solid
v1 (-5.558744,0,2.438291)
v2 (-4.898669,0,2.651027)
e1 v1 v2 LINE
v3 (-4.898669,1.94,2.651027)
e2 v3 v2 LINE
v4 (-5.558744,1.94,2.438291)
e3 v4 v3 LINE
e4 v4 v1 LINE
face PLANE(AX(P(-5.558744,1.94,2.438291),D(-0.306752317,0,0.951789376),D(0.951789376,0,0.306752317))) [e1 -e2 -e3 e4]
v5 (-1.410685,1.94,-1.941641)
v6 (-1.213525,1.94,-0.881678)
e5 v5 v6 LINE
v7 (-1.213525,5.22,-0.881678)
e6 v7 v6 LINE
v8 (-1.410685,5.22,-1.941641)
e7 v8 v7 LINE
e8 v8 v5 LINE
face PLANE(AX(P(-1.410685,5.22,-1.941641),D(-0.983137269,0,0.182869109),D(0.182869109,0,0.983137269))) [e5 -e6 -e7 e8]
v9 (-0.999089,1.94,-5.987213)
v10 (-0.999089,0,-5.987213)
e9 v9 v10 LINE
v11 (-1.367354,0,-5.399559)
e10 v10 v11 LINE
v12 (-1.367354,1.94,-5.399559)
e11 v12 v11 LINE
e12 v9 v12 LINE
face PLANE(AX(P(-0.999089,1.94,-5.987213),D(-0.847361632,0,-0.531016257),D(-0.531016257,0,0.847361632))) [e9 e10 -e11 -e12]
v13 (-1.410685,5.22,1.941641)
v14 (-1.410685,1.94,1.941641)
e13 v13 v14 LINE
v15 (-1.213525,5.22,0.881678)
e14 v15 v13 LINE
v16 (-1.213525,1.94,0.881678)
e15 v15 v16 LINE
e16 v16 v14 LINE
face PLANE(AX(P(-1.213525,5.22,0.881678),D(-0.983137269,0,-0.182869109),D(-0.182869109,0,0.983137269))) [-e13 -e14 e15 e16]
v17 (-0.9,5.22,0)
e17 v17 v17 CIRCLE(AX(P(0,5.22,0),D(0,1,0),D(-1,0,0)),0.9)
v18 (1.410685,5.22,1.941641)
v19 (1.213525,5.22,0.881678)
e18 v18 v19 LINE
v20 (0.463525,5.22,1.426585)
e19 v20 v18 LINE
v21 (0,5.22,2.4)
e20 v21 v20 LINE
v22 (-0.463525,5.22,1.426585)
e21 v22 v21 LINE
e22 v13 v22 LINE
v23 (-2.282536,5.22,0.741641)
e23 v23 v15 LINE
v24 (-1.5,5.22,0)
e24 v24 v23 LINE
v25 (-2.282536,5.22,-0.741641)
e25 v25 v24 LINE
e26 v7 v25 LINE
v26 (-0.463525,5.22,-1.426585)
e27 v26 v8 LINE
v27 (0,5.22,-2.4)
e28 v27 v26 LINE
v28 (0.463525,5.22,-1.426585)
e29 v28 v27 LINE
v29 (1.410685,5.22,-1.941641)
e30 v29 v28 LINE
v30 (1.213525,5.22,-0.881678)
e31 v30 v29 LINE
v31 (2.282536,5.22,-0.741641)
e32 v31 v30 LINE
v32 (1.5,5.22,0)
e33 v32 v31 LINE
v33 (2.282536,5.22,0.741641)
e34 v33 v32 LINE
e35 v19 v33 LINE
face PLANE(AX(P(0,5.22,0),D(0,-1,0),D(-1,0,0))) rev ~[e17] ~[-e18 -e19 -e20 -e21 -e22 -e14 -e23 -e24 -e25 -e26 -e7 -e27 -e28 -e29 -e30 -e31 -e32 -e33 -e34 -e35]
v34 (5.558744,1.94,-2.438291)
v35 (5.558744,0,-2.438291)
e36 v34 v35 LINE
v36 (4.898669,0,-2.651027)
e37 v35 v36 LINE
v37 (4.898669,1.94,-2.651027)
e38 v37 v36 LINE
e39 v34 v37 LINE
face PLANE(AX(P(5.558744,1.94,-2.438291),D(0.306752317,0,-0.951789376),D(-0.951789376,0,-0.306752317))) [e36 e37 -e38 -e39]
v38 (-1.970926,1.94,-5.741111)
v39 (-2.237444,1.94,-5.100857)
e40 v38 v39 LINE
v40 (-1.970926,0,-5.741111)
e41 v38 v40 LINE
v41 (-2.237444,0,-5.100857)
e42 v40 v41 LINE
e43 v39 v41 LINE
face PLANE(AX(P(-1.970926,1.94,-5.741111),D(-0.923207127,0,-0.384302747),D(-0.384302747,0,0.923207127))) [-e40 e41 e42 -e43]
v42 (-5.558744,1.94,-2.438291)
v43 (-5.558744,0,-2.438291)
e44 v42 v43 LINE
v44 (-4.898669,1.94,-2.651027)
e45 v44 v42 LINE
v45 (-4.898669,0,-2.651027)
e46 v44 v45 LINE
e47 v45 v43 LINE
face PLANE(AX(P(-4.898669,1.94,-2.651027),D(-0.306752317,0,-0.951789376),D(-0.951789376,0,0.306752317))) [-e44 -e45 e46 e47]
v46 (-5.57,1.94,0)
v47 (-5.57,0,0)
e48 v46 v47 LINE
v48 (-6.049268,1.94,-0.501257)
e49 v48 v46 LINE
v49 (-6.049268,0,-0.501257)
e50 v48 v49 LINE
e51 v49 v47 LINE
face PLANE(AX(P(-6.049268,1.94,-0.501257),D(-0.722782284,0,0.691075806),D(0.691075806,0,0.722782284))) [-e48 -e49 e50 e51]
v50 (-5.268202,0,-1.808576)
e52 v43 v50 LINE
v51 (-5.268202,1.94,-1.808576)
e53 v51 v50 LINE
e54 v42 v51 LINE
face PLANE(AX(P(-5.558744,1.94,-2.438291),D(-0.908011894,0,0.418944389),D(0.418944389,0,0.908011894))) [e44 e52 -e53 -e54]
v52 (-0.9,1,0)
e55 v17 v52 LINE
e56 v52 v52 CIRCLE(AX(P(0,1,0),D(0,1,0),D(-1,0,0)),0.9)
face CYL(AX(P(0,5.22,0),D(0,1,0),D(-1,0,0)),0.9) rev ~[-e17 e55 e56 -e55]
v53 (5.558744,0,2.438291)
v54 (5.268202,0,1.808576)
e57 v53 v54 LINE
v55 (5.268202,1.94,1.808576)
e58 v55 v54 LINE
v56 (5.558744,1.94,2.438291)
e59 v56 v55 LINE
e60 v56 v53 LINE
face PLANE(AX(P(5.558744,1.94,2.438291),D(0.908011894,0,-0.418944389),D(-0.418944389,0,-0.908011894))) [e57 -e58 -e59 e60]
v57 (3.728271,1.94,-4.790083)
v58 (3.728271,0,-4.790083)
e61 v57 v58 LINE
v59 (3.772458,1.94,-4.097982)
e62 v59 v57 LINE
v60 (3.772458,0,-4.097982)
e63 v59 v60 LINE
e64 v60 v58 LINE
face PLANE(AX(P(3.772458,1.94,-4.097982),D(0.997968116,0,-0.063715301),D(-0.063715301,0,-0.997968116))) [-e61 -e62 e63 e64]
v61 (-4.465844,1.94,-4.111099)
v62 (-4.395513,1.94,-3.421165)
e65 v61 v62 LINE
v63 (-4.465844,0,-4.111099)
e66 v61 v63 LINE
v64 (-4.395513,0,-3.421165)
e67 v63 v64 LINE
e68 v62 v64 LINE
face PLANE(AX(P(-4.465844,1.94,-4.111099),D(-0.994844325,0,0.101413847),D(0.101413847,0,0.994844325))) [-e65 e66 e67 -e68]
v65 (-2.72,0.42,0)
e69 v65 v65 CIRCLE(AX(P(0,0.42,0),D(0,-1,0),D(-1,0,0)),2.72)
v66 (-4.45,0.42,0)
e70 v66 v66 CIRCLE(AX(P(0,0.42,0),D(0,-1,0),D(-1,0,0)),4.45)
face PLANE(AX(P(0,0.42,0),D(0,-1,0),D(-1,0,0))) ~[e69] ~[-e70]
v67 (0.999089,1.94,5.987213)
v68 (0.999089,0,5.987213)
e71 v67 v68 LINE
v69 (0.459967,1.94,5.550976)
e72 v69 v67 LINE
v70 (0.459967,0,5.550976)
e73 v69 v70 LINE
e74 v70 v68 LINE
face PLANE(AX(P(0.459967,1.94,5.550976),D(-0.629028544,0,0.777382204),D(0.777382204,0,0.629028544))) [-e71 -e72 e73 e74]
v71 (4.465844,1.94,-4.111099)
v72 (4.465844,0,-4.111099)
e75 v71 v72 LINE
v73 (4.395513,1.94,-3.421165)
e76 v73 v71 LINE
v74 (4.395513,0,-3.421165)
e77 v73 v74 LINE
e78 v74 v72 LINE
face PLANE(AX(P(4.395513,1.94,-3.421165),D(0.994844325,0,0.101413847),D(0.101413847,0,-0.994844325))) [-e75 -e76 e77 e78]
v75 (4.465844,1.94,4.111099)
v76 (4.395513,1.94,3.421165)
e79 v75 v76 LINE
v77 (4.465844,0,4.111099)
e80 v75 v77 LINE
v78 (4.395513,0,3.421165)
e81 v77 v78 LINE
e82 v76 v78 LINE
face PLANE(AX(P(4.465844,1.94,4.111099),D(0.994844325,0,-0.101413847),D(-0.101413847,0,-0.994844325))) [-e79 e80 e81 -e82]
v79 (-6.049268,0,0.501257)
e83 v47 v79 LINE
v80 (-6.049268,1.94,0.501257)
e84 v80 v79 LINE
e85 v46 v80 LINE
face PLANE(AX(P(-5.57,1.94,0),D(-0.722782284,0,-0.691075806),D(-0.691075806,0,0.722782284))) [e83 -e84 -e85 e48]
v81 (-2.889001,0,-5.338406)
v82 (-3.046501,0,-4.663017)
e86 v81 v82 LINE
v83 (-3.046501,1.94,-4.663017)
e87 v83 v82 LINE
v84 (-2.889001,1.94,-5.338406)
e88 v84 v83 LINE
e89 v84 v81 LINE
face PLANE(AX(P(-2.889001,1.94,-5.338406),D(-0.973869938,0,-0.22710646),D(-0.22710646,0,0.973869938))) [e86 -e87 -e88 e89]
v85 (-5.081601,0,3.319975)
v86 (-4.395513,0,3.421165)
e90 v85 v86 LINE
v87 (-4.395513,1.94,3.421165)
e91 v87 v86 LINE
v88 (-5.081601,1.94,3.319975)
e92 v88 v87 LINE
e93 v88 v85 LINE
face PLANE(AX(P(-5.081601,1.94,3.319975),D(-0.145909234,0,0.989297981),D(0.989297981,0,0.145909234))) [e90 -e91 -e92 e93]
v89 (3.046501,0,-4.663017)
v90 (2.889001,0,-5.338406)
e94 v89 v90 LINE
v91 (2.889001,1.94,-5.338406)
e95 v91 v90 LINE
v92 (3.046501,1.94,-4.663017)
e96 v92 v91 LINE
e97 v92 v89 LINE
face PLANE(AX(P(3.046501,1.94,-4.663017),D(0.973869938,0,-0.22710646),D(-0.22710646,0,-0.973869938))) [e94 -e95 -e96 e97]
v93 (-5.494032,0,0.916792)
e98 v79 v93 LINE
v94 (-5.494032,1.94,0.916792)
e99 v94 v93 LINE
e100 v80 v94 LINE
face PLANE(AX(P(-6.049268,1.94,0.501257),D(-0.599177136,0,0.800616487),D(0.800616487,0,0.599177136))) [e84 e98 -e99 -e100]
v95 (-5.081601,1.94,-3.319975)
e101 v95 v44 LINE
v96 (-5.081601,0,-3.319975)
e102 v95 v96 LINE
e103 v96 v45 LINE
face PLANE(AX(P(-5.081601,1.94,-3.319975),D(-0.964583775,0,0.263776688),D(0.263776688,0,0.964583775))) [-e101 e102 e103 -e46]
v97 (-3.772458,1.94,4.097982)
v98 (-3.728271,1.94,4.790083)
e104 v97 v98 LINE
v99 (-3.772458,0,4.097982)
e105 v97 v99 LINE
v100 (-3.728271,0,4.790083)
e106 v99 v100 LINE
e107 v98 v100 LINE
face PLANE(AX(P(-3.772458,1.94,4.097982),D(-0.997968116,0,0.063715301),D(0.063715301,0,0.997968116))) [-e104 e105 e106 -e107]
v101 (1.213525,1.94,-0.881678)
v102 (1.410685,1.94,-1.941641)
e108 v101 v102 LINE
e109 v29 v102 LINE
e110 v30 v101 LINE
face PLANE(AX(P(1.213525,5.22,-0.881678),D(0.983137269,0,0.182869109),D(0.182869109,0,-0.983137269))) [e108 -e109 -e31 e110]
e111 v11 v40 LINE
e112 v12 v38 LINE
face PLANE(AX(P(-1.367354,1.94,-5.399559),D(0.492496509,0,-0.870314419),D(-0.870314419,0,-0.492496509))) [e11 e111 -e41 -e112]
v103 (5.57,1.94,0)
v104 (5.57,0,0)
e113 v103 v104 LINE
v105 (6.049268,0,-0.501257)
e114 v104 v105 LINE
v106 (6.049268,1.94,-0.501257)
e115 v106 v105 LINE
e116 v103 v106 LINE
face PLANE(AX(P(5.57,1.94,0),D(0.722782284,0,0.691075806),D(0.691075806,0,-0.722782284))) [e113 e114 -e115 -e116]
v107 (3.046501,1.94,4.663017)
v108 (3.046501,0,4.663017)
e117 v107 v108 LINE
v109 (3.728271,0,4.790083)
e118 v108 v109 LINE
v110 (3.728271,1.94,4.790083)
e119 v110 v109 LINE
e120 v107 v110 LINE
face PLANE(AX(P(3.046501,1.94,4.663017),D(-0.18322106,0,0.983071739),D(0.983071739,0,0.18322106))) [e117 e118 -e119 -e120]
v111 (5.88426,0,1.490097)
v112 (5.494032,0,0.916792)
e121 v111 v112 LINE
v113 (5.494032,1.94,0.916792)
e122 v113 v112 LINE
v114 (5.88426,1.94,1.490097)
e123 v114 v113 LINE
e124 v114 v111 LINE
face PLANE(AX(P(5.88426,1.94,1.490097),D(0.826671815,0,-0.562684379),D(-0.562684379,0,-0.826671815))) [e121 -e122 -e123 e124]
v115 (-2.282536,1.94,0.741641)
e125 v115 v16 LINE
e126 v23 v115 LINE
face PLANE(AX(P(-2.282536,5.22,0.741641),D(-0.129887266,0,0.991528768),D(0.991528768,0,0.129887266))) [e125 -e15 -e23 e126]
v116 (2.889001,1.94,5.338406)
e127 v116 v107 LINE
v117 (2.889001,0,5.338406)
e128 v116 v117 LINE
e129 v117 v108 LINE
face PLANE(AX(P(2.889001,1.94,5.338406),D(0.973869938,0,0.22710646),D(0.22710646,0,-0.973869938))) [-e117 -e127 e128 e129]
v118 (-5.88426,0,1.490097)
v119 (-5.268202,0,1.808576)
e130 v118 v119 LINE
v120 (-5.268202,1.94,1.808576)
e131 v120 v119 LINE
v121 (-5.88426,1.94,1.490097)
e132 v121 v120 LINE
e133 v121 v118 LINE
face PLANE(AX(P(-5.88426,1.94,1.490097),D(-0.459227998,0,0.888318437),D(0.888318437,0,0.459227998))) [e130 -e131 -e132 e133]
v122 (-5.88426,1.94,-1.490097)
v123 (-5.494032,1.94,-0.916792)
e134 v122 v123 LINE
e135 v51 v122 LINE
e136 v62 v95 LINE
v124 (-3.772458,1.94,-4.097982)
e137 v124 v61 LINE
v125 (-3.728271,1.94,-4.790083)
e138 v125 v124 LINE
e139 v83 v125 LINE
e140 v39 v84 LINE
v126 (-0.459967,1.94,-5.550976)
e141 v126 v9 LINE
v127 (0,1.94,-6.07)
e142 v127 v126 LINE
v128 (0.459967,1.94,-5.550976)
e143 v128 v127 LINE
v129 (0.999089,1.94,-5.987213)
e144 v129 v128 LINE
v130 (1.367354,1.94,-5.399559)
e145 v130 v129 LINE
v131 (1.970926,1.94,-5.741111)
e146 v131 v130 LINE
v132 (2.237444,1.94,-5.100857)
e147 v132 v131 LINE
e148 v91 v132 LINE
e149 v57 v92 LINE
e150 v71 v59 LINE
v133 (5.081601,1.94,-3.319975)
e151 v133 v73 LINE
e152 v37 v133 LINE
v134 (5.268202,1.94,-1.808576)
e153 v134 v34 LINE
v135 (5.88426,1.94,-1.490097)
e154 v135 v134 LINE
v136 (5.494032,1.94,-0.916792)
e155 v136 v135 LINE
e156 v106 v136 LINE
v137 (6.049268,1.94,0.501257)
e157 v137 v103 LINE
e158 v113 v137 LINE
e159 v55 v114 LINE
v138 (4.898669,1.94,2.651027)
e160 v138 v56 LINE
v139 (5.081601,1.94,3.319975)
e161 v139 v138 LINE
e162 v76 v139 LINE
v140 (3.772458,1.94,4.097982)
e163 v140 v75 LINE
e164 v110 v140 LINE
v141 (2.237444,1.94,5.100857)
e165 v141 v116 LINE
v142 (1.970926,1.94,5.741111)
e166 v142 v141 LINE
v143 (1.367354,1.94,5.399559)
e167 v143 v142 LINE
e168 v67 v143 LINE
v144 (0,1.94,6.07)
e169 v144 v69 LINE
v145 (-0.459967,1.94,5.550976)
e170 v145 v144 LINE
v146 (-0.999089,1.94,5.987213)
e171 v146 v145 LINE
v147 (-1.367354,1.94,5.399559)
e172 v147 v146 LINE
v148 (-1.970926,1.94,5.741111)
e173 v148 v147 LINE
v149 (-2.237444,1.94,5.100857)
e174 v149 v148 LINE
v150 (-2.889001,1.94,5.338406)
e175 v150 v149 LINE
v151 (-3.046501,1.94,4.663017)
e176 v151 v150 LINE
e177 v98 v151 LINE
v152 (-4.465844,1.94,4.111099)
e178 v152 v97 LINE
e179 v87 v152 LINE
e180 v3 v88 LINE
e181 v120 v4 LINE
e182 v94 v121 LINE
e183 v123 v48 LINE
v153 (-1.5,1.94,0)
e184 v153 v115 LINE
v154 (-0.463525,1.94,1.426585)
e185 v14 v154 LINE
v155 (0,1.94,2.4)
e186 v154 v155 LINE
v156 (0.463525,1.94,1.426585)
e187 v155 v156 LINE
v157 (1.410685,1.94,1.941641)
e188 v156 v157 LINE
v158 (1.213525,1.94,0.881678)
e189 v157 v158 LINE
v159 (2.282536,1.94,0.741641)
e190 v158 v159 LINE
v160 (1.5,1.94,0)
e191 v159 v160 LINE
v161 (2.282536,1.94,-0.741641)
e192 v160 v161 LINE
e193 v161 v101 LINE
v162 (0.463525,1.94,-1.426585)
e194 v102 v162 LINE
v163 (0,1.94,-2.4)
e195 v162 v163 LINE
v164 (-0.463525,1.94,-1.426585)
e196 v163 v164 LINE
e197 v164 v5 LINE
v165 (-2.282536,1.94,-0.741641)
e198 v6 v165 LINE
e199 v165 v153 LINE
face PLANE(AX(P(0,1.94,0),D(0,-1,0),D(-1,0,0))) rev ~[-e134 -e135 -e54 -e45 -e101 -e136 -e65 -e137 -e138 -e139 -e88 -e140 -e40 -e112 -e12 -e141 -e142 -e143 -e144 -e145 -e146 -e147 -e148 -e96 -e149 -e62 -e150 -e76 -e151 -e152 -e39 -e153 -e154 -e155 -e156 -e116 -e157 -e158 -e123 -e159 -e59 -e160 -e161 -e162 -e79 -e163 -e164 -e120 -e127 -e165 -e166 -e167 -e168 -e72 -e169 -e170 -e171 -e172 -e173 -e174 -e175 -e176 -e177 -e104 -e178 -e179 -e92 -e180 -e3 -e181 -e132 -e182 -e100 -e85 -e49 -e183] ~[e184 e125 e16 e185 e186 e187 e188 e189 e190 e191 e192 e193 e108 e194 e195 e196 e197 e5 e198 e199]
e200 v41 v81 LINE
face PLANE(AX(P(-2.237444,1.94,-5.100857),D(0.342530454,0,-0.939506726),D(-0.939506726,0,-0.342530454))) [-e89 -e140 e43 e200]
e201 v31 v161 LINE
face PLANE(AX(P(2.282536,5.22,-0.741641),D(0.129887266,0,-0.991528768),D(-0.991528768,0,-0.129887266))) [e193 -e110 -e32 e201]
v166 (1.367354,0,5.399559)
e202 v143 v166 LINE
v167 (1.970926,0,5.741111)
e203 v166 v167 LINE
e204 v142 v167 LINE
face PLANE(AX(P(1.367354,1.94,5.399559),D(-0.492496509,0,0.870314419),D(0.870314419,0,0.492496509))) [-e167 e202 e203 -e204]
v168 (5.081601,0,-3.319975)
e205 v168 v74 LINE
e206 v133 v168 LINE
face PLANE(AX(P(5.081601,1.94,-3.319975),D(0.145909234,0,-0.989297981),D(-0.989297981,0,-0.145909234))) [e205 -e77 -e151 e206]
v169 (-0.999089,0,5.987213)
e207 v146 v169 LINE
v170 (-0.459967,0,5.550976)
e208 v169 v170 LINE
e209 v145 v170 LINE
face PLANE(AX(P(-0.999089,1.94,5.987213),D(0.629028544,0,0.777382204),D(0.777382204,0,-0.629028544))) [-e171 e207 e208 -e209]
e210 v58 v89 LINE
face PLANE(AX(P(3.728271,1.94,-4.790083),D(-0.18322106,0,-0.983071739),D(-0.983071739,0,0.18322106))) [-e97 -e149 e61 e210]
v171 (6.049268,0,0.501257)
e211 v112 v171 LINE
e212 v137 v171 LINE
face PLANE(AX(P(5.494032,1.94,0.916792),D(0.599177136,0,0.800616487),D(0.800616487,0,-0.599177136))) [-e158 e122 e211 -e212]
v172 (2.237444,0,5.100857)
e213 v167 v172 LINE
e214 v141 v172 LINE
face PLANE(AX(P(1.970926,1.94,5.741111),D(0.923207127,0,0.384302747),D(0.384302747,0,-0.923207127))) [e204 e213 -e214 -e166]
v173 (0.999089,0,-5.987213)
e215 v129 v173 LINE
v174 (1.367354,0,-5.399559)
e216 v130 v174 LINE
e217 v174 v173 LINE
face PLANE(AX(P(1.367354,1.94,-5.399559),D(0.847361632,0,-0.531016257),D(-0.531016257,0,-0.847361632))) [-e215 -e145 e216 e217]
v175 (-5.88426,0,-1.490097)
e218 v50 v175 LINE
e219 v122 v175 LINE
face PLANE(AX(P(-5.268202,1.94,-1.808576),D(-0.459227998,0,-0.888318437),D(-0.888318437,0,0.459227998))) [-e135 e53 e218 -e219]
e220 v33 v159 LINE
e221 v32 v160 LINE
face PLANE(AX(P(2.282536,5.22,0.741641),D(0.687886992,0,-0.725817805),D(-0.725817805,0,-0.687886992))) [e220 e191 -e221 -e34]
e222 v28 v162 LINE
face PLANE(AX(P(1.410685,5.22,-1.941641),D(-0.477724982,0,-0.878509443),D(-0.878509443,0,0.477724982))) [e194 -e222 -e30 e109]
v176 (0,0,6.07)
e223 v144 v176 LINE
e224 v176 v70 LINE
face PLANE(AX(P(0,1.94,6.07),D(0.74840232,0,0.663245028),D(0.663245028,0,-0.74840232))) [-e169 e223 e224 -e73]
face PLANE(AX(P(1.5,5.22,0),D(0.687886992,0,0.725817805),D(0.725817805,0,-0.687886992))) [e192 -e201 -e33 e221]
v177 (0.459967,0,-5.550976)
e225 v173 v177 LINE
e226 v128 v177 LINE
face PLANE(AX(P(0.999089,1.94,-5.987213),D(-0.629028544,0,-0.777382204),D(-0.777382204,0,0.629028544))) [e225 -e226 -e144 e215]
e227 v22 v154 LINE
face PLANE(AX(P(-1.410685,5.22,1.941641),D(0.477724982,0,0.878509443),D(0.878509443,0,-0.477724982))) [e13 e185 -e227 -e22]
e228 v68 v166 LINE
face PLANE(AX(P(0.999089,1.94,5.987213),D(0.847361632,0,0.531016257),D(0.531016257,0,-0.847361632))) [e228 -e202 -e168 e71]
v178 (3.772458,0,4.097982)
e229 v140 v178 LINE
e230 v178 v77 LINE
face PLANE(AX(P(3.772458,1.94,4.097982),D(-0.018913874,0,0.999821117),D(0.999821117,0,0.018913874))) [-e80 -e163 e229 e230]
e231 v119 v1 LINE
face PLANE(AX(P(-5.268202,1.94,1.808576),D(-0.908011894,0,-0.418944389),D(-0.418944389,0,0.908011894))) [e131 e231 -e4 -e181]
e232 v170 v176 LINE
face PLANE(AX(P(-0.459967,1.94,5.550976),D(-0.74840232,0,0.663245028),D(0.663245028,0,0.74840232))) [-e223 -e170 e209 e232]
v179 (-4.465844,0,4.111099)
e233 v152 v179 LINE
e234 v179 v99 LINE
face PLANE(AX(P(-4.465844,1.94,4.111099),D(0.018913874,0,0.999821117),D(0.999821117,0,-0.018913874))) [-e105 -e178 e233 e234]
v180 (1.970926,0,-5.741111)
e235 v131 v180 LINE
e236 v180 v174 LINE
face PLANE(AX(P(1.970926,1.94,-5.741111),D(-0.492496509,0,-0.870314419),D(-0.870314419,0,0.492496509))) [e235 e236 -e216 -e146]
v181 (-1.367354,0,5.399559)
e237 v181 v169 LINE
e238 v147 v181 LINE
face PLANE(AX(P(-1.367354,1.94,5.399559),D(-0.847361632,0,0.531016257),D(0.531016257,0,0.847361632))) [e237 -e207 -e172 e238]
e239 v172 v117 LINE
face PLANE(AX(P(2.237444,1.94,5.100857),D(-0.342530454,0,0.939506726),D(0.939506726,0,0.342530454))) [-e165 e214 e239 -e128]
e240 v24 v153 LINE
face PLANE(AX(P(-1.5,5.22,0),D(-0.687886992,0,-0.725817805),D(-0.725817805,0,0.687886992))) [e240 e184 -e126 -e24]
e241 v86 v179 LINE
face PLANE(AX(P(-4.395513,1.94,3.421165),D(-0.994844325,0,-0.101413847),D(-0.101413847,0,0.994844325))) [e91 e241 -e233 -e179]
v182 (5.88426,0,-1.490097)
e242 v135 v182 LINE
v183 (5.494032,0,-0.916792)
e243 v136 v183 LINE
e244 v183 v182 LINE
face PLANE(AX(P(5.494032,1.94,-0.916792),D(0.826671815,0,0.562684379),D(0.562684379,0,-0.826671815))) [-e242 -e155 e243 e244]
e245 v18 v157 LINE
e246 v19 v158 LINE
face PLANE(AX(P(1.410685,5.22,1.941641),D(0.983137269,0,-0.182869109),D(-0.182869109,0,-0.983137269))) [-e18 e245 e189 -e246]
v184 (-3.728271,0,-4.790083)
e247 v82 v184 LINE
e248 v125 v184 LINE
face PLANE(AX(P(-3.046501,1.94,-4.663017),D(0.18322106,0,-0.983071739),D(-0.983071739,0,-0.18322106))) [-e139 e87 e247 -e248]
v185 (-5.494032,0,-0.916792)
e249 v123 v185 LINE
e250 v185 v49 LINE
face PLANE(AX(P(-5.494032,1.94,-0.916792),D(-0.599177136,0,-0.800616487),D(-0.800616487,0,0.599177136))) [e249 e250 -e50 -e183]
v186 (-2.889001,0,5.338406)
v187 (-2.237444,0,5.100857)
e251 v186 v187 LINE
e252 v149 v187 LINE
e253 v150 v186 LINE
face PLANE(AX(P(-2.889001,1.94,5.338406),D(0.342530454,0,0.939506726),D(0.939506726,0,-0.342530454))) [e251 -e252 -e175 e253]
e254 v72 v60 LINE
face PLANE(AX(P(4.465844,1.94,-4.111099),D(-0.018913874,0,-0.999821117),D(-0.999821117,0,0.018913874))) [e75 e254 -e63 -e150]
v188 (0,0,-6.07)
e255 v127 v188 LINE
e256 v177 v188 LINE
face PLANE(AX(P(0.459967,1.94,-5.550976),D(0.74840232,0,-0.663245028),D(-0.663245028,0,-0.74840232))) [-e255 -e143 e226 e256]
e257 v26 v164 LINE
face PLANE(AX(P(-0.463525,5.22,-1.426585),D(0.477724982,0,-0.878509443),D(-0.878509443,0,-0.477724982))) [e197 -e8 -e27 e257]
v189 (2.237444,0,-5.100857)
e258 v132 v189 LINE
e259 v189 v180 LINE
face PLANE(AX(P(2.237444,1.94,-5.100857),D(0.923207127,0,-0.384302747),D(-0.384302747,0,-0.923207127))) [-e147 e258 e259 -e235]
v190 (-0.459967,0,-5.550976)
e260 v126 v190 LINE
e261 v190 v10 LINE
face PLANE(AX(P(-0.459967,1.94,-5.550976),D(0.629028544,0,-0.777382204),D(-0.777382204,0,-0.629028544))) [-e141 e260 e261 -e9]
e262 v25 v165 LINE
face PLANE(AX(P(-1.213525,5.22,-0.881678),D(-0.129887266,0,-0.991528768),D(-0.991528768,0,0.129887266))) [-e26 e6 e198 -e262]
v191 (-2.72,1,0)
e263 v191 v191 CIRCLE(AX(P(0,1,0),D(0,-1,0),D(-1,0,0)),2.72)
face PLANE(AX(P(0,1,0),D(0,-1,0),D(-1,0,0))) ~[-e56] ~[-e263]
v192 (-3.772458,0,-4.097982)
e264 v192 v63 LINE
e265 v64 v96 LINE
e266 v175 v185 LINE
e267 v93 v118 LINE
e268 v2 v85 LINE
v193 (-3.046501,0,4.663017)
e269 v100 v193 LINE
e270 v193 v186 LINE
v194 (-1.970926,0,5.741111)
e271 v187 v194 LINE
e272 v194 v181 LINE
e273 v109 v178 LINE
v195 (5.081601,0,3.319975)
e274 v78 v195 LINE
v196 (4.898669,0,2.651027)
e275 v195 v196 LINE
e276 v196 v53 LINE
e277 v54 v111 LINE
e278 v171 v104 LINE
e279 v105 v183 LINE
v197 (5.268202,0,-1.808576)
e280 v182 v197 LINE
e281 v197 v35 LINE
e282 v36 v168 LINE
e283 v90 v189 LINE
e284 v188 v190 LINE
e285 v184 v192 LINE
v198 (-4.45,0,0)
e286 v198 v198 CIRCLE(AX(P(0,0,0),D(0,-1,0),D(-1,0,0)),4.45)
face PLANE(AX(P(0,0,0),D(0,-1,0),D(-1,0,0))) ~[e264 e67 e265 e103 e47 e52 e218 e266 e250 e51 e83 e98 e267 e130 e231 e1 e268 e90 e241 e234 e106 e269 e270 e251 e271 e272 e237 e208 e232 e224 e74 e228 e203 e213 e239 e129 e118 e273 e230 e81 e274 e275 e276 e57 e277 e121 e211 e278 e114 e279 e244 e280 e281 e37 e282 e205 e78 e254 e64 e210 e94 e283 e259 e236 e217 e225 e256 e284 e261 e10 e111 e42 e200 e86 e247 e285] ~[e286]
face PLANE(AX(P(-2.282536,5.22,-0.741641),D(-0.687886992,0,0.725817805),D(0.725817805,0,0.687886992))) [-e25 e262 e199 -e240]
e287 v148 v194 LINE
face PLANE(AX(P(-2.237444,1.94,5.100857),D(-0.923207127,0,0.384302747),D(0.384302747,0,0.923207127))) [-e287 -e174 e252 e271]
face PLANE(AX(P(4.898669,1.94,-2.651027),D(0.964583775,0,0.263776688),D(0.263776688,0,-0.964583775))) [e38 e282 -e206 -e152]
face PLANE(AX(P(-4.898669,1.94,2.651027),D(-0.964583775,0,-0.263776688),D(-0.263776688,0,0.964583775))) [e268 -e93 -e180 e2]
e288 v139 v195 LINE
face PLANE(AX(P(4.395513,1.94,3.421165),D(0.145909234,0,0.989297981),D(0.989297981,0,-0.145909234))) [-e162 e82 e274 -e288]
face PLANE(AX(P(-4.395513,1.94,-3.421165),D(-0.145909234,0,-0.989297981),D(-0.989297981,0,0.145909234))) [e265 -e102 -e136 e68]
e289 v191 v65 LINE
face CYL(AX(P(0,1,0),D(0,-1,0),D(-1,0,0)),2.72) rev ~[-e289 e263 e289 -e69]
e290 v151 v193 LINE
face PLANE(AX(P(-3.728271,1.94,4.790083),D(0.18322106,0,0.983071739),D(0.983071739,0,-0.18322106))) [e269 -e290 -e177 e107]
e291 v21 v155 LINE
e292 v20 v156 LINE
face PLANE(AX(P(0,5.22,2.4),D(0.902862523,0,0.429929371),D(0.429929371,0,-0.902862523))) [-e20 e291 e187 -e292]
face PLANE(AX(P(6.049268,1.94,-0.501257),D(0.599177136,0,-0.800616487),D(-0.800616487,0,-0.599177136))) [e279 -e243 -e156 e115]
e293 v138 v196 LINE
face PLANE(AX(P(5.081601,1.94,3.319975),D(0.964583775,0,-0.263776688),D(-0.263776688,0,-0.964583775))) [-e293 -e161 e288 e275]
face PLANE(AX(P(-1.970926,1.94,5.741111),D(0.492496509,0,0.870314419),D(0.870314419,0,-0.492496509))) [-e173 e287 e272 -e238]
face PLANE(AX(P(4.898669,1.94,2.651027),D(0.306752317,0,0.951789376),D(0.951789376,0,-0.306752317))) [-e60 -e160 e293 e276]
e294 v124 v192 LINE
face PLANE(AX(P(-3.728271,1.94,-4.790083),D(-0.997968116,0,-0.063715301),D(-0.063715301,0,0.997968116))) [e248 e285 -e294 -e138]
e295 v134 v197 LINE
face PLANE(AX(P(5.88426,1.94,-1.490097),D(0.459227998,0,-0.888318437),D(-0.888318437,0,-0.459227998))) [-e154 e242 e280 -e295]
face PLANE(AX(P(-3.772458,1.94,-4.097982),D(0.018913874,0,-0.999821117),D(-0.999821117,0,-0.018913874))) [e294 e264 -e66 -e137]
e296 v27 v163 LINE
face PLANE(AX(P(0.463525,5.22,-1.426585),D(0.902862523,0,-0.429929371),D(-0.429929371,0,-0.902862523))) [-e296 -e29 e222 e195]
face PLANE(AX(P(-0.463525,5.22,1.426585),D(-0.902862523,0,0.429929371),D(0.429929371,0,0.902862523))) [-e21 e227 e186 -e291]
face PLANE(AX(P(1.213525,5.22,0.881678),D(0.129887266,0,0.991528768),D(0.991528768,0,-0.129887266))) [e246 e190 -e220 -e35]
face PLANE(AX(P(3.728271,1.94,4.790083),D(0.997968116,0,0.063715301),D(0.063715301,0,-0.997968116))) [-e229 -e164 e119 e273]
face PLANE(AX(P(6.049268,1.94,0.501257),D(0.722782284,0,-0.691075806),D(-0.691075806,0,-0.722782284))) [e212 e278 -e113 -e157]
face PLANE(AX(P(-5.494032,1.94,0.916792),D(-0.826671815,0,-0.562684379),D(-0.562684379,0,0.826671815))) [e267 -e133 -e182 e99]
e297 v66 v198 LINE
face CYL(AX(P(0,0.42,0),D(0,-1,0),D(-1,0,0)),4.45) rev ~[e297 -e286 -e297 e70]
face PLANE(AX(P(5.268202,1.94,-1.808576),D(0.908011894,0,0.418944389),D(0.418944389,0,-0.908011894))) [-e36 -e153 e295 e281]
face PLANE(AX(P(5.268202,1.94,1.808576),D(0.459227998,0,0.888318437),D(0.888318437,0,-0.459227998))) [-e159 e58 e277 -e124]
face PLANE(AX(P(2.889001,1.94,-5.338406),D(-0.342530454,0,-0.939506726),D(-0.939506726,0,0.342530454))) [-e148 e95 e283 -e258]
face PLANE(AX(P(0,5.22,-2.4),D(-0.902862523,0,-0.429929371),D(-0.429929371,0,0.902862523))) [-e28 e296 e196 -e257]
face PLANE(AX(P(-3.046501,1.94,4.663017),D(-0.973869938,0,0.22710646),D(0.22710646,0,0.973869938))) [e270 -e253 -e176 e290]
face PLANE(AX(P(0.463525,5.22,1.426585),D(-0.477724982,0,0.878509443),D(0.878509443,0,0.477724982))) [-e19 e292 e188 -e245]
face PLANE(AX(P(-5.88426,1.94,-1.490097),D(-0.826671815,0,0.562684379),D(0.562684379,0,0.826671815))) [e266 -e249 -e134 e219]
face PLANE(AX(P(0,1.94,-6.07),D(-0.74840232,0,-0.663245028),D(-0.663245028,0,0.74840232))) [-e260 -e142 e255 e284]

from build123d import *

# Parameters (mm, degrees)
SKETCH2_R          = 6.57
CUT_EXTRUDE1_DEPTH = 10.189570175
SKETCH3_R          = 2.9
CUT_EXTRUDE2_DEPTH = 3.28
SKETCH4_R          = 0.9
CUT_EXTRUDE3_DEPTH = 11.034288305


with BuildPart() as part:
    # Sketch1 → Revolve1 (revolve)
    with BuildSketch(Plane.XY, mode=Mode.PRIVATE) as revolve1_sk:
        Polygon((0, 5.22), (0, 1), (2.72, 1), (2.72, 0.42), (4.45, 0.42), (4.45, 0), (6.07, 0), (6.07, 1.94), (2.4, 1.94), (2.4, 5.22), align=None)
    revolve(revolve1_sk.sketch.rotate(Axis((0, 5.22, 0), (0, -1, 0)), 180), axis=Axis((0, 5.22, 0), (0, -1, 0)))

    # Sketch2 → Cut-Extrude1 (cut, through all)
    with BuildSketch(Plane(origin=(0, 1.94, 0), x_dir=(1, 0, 0), z_dir=(0, 1, 0))):
        Circle(SKETCH2_R)
        Polygon((0, 6.07), (-0.459966954, 5.550975626), (-0.999089163, 5.987213112), (-1.367354163, 5.399559481), (-1.970925778, 5.741110657), (-2.237443515, 5.100857429), (-2.889000676, 5.33840567), (-3.046501241, 4.663017284), (-3.728271166, 4.790082892), (-3.772458354, 4.097982182), (-4.465844138, 4.11109914), (-4.395512637, 3.42116481), (-5.081600523, 3.31997532), (-4.898668794, 2.651026979), (-5.558744093, 2.438291228), (-5.268202036, 1.808576043), (-5.884259614, 1.490096907), (-5.49403246, 0.916791868), (-6.049267873, 0.501256627), (-5.57, 0), (-6.049267873, -0.501256627), (-5.49403246, -0.916791868), (-5.884259614, -1.490096907), (-5.268202036, -1.808576043), (-5.558744093, -2.438291228), (-4.898668794, -2.651026979), (-5.081600523, -3.31997532), (-4.395512637, -3.42116481), (-4.465844138, -4.11109914), (-3.772458354, -4.097982182), (-3.728271166, -4.790082892), (-3.046501241, -4.663017284), (-2.889000676, -5.33840567), (-2.237443515, -5.100857429), (-1.970925778, -5.741110657), (-1.367354163, -5.399559481), (-0.999089163, -5.987213112), (-0.459966954, -5.550975626), (0, -6.07), (0.459966954, -5.550975626), (0.999089163, -5.987213112), (1.367354163, -5.399559481), (1.970925778, -5.741110657), (2.237443515, -5.100857429), (2.889000676, -5.33840567), (3.046501241, -4.663017284), (3.728271166, -4.790082892), (3.772458354, -4.097982182), (4.465844138, -4.11109914), (4.395512637, -3.42116481), (5.081600523, -3.31997532), (4.898668794, -2.651026979), (5.558744093, -2.438291228), (5.268202036, -1.808576043), (5.884259614, -1.490096907), (5.49403246, -0.916791868), (6.049267873, -0.501256627), (5.57, 0), (6.049267873, 0.501256627), (5.49403246, 0.916791868), (5.884259614, 1.490096907), (5.268202036, 1.808576043), (5.558744093, 2.438291228), (4.898668794, 2.651026979), (5.081600523, 3.31997532), (4.395512637, 3.42116481), (4.465844138, 4.11109914), (3.772458354, 4.097982182), (3.728271166, 4.790082892), (3.046501241, 4.663017284), (2.889000676, 5.33840567), (2.237443515, 5.100857429), (1.970925778, 5.741110657), (1.367354163, 5.399559481), (0.999089163, 5.987213112), (0.459966954, 5.550975626), align=None, mode=Mode.SUBTRACT)
    extrude(amount=-CUT_EXTRUDE1_DEPTH, mode=Mode.SUBTRACT)

    # Sketch3 → Cut-Extrude2 (cut)
    with BuildSketch(Plane(origin=(0, 5.22, 0), x_dir=(1, 0, 0), z_dir=(0, 1, 0))):
        Circle(SKETCH3_R)
        Polygon((0, 2.4), (-0.463525492, 1.426584774), (-1.410684606, 1.941640786), (-1.213525492, 0.881677878), (-2.282535639, 0.741640786), (-1.5, 0), (-2.282535639, -0.741640786), (-1.213525492, -0.881677878), (-1.410684606, -1.941640786), (-0.463525492, -1.426584774), (0, -2.4), (0.463525492, -1.426584774), (1.410684606, -1.941640786), (1.213525492, -0.881677878), (2.282535639, -0.741640786), (1.5, 0), (2.282535639, 0.741640786), (1.213525492, 0.881677878), (1.410684606, 1.941640786), (0.463525492, 1.426584774), align=None, mode=Mode.SUBTRACT)
    extrude(amount=-CUT_EXTRUDE2_DEPTH, mode=Mode.SUBTRACT)

    # Sketch4 → Cut-Extrude3 (cut, through all)
    with BuildSketch(Plane(origin=(0, 5.22, 0), x_dir=(1, 0, 0), z_dir=(0, 1, 0))):
        with Locations(Location((0, 0, 0), (0, 0, 180))):
            Circle(SKETCH4_R)
    extrude(amount=-CUT_EXTRUDE3_DEPTH, mode=Mode.SUBTRACT)


solid = part.part
